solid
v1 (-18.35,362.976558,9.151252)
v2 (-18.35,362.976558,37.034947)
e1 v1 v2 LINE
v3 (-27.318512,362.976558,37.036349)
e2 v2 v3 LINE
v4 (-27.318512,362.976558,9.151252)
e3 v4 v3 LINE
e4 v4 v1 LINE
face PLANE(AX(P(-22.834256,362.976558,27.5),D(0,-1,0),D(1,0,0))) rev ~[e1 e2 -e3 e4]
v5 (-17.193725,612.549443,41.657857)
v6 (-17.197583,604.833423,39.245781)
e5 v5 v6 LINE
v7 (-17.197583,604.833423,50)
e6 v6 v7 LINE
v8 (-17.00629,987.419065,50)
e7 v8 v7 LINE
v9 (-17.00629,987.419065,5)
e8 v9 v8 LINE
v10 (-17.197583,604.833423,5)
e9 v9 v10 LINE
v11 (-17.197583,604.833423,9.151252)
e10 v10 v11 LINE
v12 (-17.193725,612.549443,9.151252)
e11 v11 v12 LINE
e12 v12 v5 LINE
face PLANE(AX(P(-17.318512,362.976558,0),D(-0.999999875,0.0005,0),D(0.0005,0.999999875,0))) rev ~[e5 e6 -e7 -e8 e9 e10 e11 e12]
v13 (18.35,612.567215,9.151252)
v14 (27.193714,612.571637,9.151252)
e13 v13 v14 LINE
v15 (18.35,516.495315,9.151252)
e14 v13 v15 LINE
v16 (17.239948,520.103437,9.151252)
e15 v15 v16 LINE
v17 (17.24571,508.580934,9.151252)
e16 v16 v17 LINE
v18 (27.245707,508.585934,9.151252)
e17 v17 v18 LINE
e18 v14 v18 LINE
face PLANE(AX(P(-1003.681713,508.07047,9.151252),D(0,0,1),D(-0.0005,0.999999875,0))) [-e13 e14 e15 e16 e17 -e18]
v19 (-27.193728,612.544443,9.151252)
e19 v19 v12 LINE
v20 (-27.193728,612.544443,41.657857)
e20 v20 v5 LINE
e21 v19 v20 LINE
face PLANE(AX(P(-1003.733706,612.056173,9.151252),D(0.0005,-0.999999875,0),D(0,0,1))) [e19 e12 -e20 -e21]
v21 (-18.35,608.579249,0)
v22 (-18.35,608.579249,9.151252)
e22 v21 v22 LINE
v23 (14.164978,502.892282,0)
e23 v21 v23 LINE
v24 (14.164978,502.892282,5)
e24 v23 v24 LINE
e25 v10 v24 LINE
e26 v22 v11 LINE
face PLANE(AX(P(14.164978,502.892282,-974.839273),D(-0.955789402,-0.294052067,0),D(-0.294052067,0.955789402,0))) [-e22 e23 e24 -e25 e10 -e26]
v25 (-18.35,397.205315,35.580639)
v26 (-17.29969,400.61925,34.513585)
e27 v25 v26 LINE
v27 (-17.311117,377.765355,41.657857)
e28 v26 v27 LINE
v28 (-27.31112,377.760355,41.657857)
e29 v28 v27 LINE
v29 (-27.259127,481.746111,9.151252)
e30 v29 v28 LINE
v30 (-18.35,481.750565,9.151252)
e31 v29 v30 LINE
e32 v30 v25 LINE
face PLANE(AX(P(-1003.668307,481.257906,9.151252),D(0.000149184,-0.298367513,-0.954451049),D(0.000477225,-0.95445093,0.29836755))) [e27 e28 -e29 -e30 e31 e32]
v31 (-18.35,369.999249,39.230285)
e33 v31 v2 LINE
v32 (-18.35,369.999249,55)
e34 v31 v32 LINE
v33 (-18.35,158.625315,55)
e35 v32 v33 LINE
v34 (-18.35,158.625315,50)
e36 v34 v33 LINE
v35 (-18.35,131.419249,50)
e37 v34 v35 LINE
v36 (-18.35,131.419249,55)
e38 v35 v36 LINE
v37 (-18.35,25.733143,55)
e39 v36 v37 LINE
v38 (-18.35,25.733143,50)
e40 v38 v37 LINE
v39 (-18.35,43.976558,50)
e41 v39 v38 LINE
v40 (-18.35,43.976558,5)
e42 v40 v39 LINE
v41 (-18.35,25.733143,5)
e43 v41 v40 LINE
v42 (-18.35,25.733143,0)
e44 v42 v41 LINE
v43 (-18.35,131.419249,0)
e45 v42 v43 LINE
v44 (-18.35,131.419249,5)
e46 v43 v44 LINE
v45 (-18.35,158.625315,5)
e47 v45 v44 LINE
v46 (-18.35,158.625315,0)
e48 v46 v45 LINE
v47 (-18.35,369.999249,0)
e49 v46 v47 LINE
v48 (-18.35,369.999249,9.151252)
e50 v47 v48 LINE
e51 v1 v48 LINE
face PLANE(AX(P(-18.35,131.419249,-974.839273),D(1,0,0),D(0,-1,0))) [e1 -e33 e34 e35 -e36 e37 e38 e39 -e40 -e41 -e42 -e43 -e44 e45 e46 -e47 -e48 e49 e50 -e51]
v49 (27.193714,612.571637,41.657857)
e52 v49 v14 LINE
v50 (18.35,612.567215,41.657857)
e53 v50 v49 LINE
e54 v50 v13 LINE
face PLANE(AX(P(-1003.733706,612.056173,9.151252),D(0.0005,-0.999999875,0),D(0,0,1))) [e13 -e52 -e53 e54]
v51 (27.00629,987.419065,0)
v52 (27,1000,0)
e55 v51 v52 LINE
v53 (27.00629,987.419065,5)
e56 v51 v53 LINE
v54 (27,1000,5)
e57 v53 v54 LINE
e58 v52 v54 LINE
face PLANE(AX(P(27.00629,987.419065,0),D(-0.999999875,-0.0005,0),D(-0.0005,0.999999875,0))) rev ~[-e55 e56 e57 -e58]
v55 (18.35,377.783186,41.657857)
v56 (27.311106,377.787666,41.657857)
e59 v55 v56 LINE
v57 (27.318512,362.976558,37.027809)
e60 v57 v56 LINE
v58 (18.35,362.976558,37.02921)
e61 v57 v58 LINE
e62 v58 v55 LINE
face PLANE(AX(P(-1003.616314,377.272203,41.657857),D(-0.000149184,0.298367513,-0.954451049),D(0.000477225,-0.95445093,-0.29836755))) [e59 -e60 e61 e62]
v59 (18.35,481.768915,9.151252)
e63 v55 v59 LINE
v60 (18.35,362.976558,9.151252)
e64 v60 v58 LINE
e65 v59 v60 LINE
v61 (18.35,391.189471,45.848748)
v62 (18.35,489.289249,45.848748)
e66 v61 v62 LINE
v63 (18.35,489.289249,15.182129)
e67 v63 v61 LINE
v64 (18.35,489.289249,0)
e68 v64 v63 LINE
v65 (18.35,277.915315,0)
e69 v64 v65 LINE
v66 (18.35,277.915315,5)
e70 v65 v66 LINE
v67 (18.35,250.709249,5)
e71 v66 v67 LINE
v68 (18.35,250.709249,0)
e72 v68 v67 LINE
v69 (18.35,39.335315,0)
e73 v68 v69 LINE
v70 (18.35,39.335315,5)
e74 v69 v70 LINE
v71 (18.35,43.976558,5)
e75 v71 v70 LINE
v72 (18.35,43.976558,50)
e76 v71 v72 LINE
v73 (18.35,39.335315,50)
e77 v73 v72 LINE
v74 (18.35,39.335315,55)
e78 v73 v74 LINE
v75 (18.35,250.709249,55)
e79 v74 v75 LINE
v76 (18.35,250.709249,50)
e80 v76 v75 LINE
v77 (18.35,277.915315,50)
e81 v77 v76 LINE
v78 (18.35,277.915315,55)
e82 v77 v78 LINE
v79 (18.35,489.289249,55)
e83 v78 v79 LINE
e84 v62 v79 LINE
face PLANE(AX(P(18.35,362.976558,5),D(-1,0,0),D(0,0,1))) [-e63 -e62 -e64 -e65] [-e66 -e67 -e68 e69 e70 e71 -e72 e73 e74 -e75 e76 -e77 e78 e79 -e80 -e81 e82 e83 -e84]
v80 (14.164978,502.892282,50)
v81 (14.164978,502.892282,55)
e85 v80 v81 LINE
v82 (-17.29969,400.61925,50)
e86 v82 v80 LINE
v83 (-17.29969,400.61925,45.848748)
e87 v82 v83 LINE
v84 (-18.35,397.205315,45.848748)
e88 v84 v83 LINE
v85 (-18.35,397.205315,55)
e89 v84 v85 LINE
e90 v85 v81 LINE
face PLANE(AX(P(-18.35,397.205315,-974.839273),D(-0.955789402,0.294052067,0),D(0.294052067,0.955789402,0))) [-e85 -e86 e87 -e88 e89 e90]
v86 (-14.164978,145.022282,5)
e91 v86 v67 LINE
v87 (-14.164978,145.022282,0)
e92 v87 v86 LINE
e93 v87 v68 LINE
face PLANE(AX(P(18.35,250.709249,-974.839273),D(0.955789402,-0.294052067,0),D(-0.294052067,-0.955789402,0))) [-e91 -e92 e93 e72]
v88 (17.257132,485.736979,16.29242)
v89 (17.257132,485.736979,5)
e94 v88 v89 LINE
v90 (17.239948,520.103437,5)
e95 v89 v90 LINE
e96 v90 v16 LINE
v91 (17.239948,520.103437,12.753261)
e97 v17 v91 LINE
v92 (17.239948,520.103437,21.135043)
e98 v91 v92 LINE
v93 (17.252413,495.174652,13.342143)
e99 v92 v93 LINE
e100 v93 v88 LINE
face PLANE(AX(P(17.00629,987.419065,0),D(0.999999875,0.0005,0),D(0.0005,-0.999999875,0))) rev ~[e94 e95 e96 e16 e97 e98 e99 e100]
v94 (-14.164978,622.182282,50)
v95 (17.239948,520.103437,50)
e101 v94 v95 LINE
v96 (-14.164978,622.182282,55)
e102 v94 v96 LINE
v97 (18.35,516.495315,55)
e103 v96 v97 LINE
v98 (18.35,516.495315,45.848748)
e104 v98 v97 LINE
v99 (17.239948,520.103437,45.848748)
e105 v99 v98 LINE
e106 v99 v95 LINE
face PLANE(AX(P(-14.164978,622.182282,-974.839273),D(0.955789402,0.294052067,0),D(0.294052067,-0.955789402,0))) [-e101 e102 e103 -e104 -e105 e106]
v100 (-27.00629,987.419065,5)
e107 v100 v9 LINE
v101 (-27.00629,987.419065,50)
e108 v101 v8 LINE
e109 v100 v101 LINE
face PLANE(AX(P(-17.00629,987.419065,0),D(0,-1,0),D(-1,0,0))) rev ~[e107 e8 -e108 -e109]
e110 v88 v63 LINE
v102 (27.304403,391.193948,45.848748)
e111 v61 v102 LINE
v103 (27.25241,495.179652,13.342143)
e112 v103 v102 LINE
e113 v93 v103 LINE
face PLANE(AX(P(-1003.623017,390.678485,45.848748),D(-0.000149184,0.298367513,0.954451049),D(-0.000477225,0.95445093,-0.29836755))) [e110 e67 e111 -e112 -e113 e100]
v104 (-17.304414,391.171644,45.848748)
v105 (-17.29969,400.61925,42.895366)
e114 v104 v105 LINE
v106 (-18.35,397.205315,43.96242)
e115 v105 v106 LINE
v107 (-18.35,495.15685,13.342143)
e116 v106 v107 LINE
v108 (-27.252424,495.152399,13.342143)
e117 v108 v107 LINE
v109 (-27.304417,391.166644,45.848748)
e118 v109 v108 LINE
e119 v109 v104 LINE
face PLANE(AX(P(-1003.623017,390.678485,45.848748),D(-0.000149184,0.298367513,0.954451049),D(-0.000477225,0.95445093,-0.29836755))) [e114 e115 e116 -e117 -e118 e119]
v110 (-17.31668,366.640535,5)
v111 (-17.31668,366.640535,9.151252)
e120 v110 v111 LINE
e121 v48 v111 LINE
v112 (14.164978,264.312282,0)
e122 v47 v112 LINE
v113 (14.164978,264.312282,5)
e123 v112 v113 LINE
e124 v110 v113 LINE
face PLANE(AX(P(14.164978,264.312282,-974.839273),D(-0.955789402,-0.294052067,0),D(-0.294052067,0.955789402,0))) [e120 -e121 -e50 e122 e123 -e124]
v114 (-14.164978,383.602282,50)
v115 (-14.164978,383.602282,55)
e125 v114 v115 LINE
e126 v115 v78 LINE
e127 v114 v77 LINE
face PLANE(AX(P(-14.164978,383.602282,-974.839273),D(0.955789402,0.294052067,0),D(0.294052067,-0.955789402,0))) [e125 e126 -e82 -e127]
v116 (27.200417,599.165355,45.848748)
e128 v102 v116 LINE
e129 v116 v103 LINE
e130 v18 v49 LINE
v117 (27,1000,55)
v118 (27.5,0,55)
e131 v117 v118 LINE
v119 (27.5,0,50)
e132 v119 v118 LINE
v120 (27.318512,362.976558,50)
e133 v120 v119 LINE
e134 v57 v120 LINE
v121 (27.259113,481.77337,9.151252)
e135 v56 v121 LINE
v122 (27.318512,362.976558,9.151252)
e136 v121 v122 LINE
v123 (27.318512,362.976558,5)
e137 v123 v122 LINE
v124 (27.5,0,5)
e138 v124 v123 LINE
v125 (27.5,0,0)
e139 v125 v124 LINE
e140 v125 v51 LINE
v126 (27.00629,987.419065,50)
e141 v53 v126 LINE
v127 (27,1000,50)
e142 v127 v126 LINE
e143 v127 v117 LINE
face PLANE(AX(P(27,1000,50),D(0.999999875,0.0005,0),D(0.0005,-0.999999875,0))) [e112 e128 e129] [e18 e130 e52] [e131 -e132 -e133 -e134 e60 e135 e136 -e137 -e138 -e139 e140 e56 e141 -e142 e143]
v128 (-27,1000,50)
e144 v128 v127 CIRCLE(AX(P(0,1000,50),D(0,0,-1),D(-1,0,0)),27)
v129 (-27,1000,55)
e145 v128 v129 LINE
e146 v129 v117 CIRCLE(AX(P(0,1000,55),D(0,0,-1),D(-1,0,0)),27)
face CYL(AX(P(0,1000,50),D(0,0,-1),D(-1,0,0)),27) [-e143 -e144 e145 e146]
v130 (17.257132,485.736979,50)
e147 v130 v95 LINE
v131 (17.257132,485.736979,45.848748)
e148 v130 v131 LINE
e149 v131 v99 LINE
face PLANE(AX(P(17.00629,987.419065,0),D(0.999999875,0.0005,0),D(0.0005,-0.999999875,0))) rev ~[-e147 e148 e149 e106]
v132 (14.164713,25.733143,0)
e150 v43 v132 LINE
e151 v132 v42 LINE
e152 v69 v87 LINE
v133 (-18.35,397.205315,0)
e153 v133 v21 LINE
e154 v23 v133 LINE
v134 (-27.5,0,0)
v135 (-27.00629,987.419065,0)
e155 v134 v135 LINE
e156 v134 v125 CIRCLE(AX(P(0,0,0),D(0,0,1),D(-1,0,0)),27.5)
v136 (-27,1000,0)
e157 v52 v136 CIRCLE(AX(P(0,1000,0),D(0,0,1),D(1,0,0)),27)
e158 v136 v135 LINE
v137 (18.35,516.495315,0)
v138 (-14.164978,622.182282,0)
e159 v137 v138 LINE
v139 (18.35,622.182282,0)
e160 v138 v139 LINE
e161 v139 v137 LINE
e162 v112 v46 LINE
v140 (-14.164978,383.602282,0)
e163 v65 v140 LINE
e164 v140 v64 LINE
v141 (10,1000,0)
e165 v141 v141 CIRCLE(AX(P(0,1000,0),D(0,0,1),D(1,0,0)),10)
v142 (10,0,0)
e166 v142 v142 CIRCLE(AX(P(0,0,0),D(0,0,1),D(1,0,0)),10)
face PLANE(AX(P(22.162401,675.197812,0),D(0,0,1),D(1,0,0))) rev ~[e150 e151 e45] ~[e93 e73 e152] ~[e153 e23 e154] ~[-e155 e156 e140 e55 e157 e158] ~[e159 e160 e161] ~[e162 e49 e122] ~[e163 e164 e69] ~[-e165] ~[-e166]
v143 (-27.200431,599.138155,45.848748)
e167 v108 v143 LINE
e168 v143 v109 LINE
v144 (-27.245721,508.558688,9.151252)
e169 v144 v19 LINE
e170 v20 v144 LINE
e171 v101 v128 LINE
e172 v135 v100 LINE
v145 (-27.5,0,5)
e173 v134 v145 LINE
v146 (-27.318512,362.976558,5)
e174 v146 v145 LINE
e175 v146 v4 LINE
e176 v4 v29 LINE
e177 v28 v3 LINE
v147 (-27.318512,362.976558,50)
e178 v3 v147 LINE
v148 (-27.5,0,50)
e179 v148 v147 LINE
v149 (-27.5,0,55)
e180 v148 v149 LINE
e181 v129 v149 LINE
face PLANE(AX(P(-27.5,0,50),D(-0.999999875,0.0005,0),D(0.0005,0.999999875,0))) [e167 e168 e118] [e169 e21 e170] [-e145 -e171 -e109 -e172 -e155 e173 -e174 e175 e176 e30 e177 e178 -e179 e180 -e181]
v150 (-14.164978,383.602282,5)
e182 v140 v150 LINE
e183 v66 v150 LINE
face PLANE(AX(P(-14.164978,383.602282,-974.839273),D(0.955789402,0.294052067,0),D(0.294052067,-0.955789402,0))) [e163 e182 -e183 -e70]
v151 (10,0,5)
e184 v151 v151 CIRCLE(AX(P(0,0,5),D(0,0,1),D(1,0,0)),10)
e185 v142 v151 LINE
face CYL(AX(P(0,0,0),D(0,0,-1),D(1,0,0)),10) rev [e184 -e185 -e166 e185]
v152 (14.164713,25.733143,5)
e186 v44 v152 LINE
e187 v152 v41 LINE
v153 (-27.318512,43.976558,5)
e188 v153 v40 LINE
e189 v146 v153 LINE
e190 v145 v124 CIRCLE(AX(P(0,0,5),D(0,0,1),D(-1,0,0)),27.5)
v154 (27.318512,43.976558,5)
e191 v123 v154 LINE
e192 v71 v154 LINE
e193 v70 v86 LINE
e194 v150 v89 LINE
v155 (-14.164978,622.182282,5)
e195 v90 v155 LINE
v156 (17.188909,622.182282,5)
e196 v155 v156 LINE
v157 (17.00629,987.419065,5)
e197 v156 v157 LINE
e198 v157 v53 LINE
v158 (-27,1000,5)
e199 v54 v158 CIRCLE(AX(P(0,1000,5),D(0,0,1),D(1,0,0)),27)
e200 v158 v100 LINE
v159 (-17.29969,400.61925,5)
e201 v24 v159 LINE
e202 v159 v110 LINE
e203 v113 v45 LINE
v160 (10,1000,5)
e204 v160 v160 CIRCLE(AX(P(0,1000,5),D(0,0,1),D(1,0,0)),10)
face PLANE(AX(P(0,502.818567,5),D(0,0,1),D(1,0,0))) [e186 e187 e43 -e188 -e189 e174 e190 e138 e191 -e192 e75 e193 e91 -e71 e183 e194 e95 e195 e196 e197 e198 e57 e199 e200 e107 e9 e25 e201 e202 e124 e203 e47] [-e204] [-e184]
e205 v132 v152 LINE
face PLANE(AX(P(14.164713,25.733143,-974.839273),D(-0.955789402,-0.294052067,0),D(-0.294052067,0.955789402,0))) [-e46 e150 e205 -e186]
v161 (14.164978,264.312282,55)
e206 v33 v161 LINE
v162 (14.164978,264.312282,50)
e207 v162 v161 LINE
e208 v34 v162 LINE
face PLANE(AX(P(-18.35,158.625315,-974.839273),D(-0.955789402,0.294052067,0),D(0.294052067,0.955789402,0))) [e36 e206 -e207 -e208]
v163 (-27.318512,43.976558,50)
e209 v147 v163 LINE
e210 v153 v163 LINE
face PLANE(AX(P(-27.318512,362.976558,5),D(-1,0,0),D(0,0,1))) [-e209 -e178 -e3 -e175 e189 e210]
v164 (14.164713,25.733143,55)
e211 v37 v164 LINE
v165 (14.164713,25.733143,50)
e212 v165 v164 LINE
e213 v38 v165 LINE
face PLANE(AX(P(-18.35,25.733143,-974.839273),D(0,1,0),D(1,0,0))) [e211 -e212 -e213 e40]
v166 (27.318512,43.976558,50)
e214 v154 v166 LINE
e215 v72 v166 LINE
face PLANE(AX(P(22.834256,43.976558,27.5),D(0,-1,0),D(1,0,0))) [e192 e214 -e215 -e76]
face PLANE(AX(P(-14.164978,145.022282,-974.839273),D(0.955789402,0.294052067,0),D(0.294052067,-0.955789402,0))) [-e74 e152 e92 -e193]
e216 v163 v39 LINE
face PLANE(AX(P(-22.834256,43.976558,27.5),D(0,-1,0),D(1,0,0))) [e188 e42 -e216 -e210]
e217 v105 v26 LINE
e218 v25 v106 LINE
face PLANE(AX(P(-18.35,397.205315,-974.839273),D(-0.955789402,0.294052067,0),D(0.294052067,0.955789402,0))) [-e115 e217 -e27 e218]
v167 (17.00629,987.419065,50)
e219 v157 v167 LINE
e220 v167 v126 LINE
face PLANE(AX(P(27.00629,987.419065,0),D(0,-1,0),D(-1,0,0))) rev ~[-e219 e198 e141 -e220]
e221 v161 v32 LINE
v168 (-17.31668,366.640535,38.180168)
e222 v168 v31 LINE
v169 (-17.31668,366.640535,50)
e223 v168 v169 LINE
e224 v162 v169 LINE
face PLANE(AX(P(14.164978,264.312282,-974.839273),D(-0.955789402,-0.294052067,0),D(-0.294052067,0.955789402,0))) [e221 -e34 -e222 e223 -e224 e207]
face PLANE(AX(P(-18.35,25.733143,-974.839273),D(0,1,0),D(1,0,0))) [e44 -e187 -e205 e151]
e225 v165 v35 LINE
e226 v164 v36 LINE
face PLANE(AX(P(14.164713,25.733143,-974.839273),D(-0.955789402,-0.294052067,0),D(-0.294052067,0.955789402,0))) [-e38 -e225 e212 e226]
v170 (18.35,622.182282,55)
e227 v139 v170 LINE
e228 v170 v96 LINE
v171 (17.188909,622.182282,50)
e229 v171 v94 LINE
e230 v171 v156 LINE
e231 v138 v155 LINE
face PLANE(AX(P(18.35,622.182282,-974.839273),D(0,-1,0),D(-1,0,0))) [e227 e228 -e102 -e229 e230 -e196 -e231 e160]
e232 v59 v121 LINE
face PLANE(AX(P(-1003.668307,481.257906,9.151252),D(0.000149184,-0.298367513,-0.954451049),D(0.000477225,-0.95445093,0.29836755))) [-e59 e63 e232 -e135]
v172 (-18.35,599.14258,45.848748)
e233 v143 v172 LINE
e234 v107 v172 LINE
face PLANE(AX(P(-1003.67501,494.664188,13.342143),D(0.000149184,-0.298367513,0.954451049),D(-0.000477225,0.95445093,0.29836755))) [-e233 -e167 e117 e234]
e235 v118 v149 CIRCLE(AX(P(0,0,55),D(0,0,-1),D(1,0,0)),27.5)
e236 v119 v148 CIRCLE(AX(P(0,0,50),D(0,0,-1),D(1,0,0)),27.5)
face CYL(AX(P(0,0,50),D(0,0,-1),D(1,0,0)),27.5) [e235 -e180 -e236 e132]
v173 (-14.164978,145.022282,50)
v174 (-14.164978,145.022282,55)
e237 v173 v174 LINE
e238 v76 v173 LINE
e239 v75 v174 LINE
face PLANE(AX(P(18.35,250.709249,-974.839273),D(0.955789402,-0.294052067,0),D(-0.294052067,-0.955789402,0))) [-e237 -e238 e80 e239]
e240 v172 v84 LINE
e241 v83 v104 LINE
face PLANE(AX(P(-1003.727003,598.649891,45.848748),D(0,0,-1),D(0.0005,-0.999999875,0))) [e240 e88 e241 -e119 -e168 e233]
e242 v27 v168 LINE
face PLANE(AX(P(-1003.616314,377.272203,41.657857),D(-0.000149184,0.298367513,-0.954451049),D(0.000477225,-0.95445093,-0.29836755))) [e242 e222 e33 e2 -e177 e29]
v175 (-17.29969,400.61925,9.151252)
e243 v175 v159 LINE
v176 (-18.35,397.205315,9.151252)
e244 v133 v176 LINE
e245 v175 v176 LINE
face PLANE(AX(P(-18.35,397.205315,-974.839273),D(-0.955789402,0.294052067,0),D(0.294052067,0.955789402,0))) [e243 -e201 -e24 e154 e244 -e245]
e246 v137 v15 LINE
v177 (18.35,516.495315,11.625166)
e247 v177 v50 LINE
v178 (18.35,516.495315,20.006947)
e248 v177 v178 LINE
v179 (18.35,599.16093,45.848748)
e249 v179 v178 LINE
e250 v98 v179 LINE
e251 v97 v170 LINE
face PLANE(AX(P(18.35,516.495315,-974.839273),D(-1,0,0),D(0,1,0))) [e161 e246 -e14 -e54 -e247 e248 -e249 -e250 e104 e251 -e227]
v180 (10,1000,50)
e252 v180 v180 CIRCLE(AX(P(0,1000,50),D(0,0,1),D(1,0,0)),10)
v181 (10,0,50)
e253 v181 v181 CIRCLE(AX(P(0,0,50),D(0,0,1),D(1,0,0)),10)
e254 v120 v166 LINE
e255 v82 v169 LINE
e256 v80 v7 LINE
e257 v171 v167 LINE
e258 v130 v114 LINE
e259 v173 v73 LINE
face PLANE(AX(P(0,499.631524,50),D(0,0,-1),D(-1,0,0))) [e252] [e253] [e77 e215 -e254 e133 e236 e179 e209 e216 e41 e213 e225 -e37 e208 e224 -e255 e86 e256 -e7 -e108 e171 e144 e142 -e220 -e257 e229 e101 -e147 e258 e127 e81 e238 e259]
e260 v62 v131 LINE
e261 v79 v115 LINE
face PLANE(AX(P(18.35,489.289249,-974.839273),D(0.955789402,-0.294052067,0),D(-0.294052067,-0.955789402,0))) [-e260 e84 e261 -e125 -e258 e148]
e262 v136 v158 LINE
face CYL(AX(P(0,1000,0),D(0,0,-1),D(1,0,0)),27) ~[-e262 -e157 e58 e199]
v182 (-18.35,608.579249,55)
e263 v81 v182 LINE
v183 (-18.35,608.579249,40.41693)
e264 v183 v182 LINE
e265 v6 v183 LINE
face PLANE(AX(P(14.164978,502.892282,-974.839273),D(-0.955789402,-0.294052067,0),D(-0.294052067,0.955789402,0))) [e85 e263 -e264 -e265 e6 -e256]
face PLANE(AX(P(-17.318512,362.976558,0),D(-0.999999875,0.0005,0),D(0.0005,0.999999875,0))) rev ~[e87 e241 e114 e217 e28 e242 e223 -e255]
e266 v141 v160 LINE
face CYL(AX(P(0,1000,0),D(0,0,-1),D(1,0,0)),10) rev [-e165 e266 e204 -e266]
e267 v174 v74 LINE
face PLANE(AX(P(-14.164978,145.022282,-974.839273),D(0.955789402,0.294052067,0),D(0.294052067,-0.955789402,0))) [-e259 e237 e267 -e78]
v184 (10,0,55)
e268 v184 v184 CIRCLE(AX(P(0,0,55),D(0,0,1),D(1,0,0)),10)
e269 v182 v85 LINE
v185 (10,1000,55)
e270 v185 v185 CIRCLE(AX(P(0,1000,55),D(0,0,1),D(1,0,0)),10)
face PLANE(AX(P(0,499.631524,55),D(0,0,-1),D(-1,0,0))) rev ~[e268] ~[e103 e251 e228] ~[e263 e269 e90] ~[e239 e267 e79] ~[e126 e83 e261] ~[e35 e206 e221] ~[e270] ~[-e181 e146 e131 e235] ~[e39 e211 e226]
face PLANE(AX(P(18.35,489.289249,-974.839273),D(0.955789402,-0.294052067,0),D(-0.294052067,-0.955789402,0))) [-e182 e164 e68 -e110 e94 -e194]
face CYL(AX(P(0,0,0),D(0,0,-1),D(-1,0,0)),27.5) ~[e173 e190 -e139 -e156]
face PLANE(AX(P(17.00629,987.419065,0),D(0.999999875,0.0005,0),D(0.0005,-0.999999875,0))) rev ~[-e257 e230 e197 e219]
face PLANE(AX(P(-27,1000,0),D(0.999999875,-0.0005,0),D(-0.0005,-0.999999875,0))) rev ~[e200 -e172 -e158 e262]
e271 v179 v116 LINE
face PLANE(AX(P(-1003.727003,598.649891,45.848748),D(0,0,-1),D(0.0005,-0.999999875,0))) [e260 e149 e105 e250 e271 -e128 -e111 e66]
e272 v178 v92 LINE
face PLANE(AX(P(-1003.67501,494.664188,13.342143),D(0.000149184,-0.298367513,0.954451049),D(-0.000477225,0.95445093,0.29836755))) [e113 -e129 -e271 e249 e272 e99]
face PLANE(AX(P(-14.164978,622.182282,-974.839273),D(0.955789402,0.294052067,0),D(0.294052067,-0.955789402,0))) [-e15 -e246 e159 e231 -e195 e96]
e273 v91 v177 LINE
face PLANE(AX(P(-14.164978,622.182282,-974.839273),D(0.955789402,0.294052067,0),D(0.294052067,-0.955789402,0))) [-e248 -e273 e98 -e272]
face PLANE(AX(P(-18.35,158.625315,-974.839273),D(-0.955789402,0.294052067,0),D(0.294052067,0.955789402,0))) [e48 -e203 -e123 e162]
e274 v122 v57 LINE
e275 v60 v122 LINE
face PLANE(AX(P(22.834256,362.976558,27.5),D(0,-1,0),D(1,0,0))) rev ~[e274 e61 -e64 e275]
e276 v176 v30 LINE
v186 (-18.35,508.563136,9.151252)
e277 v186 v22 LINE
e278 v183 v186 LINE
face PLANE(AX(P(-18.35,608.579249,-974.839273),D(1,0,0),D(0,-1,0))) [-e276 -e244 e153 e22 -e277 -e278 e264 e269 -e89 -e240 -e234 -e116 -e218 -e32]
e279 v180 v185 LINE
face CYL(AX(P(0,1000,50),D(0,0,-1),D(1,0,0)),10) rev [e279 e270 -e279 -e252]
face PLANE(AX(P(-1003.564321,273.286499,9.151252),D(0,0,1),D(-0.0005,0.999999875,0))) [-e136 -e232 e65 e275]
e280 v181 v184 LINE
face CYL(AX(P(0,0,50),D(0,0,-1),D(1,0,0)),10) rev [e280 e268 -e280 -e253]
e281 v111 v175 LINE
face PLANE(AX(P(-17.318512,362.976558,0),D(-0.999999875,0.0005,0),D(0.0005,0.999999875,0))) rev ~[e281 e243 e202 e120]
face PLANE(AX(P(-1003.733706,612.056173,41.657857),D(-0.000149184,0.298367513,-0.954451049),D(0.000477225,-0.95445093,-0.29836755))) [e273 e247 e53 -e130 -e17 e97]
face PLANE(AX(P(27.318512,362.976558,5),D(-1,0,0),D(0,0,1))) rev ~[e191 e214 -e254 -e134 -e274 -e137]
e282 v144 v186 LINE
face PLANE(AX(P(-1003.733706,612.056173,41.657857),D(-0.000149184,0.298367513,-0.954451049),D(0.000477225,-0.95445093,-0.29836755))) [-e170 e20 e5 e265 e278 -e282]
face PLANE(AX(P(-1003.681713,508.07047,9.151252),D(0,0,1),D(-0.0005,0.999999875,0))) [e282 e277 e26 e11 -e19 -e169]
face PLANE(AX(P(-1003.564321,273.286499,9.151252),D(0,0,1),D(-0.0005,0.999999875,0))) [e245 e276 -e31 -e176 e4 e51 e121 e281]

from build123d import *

# Parameters (mm, degrees)
SKETCH1_R               = 10
BOSS_EXTRUDE2_DEPTH     = 5
BOSS_EXTRUDE3_DEPTH     = 55
BOSS_EXTRUDE4_START     = 50
SKETCH1_4_R             = 10
BOSS_EXTRUDE4_DEPTH     = 5
CUT_EXTRUDE2_DEPTH      = 1030.927549364
CUT_EXTRUDE2_DEPTH_BACK = 1030.927549364
CUT_EXTRUDE4_DEPTH      = 1029.839273162
CUT_EXTRUDE4_DEPTH_BACK = 1029.839273162
SKETCH5_W               = 8.968511721
SKETCH5_H               = 45
BOSS_EXTRUDE5_DEPTH     = 319


with BuildPart() as part:
    # Sketch1 → Boss-Extrude2 (new body)
    with BuildSketch(Plane.XY):
        with BuildLine():
            Line((27.006290467, 987.419065417), (27, 1000))
            ThreePointArc((27, 1000), (11.625043938, 1024.369209126), (-16.989507662, 1020.984676061))
            ThreePointArc((-16.989507662, 1020.984676061), (-24.369209126, 1011.625043938), (-27, 1000))
            Line((-27, 1000), (-27.006290467, 987.419065417))
            Line((-27.006290467, 987.419065417), (-17.006290467, 987.419065417))
            Line((-17.006290467, 987.419065417), (-17.318511721, 362.976557611))
            Line((-17.318511721, 362.976557611), (-27.318511721, 362.976557611))
            Line((-27.318511721, 362.976557611), (-27.5, 0))
            ThreePointArc((-27.5, 0), (0, -27.5), (27.5, 0))
            Line((27.5, 0), (27.318511721, 362.976557611))
            Line((27.318511721, 362.976557611), (17.318511721, 362.976557611))
            Line((17.318511721, 362.976557611), (17.006290467, 987.419065417))
            Line((17.006290467, 987.419065417), (27.006290467, 987.419065417))
        make_face()
        Circle(SKETCH1_R, mode=Mode.SUBTRACT)
        with Locations((0, 1000)):
            Circle(SKETCH1_R, mode=Mode.SUBTRACT)
    extrude(amount=BOSS_EXTRUDE2_DEPTH)

    # Sketch1<3> → Boss-Extrude3 (add)
    with BuildSketch(Plane.XY):
        Polygon((27.318511721, 362.976557611), (27.006290467, 987.419065417), (17.006290467, 987.419065417), (17.318511721, 362.976557611), align=None)
        Polygon((-17.006290467, 987.419065417), (-27.006290467, 987.419065417), (-27.318511721, 362.976557611), (-17.318511721, 362.976557611), align=None)
    extrude(amount=BOSS_EXTRUDE3_DEPTH)

    # Sketch1<4> → Boss-Extrude4 (add)
    with BuildSketch(Plane.XY.offset(BOSS_EXTRUDE4_START)):
        with BuildLine():
            Line((27, 1000), (27.5, 0))
            ThreePointArc((27.5, 0), (0, -27.5), (-27.5, 0))
            Line((-27.5, 0), (-27, 1000))
            ThreePointArc((-27, 1000), (0, 1027), (27, 1000))
        make_face()
        Circle(SKETCH1_4_R, mode=Mode.SUBTRACT)
        with Locations((0, 1000)):
            Circle(SKETCH1_4_R, mode=Mode.SUBTRACT)
    extrude(amount=BOSS_EXTRUDE4_DEPTH)

    # Sketch3 → Cut-Extrude2 (cut, two sides: drawn at the far end of the back side and taken through both)
    with BuildSketch(Plane(origin=(27.499993125, 0.013749997, 0), x_dir=(0, 0, -1), z_dir=(0.9999998750000234, 0.0004999999375000122, 0)).offset(-CUT_EXTRUDE2_DEPTH_BACK)):
        Polygon((-9.15125207, 508.572247167), (-9.15125207, 612.557963539), (-41.657857257, 612.557963539), align=None)
        Polygon((-9.15125207, 273.788247167), (-9.15125207, 481.759679911), (-41.657857257, 377.773963539), align=None)
        Polygon((-13.342142743, 495.165963539), (-45.84874793, 599.151679911), (-45.84874793, 391.180247167), align=None)
    extrude(amount=CUT_EXTRUDE2_DEPTH + CUT_EXTRUDE2_DEPTH_BACK, mode=Mode.SUBTRACT)

    # Sketch4 → Cut-Extrude4 (cut, two sides: drawn at the far end of the back side and taken through both)
    with BuildSketch(Plane.XY.offset(55).offset(-CUT_EXTRUDE4_DEPTH_BACK)):
        Polygon((14.164977662, 264.312281668), (-18.35, 369.999248569), (-18.35, 158.625314767), align=None)
        Polygon((18.35, 277.915314767), (18.35, 383.602281668), (-14.164977662, 383.602281668), align=None)
        Polygon((18.35, 39.335314767), (18.35, 250.709248569), (-14.164977662, 145.022281668), align=None)
        Polygon((14.164977662, 502.892281668), (-18.35, 608.579248569), (-18.35, 397.205314767), align=None)
        Polygon((18.35, 383.602281668), (18.35, 489.289248569), (-14.164977662, 383.602281668), align=None)
        Polygon((18.35, 516.495314767), (18.35, 622.182281668), (-14.164977662, 622.182281668), align=None)
        Polygon((14.164712586, 25.733143274), (-18.35, 131.419248569), (-18.35, 25.733143274), align=None)
    extrude(amount=CUT_EXTRUDE4_DEPTH + CUT_EXTRUDE4_DEPTH_BACK, mode=Mode.SUBTRACT)

    # Sketch5 → Boss-Extrude5 (add)
    with BuildSketch(Plane.XZ.offset(-362.976557611)):
        with Locations((-22.834255861, 27.5)):
            Rectangle(SKETCH5_W, SKETCH5_H)
        with Locations((22.834255861, 27.5)):
            Rectangle(SKETCH5_W, SKETCH5_H)
    extrude(amount=BOSS_EXTRUDE5_DEPTH)


solid = part.part
